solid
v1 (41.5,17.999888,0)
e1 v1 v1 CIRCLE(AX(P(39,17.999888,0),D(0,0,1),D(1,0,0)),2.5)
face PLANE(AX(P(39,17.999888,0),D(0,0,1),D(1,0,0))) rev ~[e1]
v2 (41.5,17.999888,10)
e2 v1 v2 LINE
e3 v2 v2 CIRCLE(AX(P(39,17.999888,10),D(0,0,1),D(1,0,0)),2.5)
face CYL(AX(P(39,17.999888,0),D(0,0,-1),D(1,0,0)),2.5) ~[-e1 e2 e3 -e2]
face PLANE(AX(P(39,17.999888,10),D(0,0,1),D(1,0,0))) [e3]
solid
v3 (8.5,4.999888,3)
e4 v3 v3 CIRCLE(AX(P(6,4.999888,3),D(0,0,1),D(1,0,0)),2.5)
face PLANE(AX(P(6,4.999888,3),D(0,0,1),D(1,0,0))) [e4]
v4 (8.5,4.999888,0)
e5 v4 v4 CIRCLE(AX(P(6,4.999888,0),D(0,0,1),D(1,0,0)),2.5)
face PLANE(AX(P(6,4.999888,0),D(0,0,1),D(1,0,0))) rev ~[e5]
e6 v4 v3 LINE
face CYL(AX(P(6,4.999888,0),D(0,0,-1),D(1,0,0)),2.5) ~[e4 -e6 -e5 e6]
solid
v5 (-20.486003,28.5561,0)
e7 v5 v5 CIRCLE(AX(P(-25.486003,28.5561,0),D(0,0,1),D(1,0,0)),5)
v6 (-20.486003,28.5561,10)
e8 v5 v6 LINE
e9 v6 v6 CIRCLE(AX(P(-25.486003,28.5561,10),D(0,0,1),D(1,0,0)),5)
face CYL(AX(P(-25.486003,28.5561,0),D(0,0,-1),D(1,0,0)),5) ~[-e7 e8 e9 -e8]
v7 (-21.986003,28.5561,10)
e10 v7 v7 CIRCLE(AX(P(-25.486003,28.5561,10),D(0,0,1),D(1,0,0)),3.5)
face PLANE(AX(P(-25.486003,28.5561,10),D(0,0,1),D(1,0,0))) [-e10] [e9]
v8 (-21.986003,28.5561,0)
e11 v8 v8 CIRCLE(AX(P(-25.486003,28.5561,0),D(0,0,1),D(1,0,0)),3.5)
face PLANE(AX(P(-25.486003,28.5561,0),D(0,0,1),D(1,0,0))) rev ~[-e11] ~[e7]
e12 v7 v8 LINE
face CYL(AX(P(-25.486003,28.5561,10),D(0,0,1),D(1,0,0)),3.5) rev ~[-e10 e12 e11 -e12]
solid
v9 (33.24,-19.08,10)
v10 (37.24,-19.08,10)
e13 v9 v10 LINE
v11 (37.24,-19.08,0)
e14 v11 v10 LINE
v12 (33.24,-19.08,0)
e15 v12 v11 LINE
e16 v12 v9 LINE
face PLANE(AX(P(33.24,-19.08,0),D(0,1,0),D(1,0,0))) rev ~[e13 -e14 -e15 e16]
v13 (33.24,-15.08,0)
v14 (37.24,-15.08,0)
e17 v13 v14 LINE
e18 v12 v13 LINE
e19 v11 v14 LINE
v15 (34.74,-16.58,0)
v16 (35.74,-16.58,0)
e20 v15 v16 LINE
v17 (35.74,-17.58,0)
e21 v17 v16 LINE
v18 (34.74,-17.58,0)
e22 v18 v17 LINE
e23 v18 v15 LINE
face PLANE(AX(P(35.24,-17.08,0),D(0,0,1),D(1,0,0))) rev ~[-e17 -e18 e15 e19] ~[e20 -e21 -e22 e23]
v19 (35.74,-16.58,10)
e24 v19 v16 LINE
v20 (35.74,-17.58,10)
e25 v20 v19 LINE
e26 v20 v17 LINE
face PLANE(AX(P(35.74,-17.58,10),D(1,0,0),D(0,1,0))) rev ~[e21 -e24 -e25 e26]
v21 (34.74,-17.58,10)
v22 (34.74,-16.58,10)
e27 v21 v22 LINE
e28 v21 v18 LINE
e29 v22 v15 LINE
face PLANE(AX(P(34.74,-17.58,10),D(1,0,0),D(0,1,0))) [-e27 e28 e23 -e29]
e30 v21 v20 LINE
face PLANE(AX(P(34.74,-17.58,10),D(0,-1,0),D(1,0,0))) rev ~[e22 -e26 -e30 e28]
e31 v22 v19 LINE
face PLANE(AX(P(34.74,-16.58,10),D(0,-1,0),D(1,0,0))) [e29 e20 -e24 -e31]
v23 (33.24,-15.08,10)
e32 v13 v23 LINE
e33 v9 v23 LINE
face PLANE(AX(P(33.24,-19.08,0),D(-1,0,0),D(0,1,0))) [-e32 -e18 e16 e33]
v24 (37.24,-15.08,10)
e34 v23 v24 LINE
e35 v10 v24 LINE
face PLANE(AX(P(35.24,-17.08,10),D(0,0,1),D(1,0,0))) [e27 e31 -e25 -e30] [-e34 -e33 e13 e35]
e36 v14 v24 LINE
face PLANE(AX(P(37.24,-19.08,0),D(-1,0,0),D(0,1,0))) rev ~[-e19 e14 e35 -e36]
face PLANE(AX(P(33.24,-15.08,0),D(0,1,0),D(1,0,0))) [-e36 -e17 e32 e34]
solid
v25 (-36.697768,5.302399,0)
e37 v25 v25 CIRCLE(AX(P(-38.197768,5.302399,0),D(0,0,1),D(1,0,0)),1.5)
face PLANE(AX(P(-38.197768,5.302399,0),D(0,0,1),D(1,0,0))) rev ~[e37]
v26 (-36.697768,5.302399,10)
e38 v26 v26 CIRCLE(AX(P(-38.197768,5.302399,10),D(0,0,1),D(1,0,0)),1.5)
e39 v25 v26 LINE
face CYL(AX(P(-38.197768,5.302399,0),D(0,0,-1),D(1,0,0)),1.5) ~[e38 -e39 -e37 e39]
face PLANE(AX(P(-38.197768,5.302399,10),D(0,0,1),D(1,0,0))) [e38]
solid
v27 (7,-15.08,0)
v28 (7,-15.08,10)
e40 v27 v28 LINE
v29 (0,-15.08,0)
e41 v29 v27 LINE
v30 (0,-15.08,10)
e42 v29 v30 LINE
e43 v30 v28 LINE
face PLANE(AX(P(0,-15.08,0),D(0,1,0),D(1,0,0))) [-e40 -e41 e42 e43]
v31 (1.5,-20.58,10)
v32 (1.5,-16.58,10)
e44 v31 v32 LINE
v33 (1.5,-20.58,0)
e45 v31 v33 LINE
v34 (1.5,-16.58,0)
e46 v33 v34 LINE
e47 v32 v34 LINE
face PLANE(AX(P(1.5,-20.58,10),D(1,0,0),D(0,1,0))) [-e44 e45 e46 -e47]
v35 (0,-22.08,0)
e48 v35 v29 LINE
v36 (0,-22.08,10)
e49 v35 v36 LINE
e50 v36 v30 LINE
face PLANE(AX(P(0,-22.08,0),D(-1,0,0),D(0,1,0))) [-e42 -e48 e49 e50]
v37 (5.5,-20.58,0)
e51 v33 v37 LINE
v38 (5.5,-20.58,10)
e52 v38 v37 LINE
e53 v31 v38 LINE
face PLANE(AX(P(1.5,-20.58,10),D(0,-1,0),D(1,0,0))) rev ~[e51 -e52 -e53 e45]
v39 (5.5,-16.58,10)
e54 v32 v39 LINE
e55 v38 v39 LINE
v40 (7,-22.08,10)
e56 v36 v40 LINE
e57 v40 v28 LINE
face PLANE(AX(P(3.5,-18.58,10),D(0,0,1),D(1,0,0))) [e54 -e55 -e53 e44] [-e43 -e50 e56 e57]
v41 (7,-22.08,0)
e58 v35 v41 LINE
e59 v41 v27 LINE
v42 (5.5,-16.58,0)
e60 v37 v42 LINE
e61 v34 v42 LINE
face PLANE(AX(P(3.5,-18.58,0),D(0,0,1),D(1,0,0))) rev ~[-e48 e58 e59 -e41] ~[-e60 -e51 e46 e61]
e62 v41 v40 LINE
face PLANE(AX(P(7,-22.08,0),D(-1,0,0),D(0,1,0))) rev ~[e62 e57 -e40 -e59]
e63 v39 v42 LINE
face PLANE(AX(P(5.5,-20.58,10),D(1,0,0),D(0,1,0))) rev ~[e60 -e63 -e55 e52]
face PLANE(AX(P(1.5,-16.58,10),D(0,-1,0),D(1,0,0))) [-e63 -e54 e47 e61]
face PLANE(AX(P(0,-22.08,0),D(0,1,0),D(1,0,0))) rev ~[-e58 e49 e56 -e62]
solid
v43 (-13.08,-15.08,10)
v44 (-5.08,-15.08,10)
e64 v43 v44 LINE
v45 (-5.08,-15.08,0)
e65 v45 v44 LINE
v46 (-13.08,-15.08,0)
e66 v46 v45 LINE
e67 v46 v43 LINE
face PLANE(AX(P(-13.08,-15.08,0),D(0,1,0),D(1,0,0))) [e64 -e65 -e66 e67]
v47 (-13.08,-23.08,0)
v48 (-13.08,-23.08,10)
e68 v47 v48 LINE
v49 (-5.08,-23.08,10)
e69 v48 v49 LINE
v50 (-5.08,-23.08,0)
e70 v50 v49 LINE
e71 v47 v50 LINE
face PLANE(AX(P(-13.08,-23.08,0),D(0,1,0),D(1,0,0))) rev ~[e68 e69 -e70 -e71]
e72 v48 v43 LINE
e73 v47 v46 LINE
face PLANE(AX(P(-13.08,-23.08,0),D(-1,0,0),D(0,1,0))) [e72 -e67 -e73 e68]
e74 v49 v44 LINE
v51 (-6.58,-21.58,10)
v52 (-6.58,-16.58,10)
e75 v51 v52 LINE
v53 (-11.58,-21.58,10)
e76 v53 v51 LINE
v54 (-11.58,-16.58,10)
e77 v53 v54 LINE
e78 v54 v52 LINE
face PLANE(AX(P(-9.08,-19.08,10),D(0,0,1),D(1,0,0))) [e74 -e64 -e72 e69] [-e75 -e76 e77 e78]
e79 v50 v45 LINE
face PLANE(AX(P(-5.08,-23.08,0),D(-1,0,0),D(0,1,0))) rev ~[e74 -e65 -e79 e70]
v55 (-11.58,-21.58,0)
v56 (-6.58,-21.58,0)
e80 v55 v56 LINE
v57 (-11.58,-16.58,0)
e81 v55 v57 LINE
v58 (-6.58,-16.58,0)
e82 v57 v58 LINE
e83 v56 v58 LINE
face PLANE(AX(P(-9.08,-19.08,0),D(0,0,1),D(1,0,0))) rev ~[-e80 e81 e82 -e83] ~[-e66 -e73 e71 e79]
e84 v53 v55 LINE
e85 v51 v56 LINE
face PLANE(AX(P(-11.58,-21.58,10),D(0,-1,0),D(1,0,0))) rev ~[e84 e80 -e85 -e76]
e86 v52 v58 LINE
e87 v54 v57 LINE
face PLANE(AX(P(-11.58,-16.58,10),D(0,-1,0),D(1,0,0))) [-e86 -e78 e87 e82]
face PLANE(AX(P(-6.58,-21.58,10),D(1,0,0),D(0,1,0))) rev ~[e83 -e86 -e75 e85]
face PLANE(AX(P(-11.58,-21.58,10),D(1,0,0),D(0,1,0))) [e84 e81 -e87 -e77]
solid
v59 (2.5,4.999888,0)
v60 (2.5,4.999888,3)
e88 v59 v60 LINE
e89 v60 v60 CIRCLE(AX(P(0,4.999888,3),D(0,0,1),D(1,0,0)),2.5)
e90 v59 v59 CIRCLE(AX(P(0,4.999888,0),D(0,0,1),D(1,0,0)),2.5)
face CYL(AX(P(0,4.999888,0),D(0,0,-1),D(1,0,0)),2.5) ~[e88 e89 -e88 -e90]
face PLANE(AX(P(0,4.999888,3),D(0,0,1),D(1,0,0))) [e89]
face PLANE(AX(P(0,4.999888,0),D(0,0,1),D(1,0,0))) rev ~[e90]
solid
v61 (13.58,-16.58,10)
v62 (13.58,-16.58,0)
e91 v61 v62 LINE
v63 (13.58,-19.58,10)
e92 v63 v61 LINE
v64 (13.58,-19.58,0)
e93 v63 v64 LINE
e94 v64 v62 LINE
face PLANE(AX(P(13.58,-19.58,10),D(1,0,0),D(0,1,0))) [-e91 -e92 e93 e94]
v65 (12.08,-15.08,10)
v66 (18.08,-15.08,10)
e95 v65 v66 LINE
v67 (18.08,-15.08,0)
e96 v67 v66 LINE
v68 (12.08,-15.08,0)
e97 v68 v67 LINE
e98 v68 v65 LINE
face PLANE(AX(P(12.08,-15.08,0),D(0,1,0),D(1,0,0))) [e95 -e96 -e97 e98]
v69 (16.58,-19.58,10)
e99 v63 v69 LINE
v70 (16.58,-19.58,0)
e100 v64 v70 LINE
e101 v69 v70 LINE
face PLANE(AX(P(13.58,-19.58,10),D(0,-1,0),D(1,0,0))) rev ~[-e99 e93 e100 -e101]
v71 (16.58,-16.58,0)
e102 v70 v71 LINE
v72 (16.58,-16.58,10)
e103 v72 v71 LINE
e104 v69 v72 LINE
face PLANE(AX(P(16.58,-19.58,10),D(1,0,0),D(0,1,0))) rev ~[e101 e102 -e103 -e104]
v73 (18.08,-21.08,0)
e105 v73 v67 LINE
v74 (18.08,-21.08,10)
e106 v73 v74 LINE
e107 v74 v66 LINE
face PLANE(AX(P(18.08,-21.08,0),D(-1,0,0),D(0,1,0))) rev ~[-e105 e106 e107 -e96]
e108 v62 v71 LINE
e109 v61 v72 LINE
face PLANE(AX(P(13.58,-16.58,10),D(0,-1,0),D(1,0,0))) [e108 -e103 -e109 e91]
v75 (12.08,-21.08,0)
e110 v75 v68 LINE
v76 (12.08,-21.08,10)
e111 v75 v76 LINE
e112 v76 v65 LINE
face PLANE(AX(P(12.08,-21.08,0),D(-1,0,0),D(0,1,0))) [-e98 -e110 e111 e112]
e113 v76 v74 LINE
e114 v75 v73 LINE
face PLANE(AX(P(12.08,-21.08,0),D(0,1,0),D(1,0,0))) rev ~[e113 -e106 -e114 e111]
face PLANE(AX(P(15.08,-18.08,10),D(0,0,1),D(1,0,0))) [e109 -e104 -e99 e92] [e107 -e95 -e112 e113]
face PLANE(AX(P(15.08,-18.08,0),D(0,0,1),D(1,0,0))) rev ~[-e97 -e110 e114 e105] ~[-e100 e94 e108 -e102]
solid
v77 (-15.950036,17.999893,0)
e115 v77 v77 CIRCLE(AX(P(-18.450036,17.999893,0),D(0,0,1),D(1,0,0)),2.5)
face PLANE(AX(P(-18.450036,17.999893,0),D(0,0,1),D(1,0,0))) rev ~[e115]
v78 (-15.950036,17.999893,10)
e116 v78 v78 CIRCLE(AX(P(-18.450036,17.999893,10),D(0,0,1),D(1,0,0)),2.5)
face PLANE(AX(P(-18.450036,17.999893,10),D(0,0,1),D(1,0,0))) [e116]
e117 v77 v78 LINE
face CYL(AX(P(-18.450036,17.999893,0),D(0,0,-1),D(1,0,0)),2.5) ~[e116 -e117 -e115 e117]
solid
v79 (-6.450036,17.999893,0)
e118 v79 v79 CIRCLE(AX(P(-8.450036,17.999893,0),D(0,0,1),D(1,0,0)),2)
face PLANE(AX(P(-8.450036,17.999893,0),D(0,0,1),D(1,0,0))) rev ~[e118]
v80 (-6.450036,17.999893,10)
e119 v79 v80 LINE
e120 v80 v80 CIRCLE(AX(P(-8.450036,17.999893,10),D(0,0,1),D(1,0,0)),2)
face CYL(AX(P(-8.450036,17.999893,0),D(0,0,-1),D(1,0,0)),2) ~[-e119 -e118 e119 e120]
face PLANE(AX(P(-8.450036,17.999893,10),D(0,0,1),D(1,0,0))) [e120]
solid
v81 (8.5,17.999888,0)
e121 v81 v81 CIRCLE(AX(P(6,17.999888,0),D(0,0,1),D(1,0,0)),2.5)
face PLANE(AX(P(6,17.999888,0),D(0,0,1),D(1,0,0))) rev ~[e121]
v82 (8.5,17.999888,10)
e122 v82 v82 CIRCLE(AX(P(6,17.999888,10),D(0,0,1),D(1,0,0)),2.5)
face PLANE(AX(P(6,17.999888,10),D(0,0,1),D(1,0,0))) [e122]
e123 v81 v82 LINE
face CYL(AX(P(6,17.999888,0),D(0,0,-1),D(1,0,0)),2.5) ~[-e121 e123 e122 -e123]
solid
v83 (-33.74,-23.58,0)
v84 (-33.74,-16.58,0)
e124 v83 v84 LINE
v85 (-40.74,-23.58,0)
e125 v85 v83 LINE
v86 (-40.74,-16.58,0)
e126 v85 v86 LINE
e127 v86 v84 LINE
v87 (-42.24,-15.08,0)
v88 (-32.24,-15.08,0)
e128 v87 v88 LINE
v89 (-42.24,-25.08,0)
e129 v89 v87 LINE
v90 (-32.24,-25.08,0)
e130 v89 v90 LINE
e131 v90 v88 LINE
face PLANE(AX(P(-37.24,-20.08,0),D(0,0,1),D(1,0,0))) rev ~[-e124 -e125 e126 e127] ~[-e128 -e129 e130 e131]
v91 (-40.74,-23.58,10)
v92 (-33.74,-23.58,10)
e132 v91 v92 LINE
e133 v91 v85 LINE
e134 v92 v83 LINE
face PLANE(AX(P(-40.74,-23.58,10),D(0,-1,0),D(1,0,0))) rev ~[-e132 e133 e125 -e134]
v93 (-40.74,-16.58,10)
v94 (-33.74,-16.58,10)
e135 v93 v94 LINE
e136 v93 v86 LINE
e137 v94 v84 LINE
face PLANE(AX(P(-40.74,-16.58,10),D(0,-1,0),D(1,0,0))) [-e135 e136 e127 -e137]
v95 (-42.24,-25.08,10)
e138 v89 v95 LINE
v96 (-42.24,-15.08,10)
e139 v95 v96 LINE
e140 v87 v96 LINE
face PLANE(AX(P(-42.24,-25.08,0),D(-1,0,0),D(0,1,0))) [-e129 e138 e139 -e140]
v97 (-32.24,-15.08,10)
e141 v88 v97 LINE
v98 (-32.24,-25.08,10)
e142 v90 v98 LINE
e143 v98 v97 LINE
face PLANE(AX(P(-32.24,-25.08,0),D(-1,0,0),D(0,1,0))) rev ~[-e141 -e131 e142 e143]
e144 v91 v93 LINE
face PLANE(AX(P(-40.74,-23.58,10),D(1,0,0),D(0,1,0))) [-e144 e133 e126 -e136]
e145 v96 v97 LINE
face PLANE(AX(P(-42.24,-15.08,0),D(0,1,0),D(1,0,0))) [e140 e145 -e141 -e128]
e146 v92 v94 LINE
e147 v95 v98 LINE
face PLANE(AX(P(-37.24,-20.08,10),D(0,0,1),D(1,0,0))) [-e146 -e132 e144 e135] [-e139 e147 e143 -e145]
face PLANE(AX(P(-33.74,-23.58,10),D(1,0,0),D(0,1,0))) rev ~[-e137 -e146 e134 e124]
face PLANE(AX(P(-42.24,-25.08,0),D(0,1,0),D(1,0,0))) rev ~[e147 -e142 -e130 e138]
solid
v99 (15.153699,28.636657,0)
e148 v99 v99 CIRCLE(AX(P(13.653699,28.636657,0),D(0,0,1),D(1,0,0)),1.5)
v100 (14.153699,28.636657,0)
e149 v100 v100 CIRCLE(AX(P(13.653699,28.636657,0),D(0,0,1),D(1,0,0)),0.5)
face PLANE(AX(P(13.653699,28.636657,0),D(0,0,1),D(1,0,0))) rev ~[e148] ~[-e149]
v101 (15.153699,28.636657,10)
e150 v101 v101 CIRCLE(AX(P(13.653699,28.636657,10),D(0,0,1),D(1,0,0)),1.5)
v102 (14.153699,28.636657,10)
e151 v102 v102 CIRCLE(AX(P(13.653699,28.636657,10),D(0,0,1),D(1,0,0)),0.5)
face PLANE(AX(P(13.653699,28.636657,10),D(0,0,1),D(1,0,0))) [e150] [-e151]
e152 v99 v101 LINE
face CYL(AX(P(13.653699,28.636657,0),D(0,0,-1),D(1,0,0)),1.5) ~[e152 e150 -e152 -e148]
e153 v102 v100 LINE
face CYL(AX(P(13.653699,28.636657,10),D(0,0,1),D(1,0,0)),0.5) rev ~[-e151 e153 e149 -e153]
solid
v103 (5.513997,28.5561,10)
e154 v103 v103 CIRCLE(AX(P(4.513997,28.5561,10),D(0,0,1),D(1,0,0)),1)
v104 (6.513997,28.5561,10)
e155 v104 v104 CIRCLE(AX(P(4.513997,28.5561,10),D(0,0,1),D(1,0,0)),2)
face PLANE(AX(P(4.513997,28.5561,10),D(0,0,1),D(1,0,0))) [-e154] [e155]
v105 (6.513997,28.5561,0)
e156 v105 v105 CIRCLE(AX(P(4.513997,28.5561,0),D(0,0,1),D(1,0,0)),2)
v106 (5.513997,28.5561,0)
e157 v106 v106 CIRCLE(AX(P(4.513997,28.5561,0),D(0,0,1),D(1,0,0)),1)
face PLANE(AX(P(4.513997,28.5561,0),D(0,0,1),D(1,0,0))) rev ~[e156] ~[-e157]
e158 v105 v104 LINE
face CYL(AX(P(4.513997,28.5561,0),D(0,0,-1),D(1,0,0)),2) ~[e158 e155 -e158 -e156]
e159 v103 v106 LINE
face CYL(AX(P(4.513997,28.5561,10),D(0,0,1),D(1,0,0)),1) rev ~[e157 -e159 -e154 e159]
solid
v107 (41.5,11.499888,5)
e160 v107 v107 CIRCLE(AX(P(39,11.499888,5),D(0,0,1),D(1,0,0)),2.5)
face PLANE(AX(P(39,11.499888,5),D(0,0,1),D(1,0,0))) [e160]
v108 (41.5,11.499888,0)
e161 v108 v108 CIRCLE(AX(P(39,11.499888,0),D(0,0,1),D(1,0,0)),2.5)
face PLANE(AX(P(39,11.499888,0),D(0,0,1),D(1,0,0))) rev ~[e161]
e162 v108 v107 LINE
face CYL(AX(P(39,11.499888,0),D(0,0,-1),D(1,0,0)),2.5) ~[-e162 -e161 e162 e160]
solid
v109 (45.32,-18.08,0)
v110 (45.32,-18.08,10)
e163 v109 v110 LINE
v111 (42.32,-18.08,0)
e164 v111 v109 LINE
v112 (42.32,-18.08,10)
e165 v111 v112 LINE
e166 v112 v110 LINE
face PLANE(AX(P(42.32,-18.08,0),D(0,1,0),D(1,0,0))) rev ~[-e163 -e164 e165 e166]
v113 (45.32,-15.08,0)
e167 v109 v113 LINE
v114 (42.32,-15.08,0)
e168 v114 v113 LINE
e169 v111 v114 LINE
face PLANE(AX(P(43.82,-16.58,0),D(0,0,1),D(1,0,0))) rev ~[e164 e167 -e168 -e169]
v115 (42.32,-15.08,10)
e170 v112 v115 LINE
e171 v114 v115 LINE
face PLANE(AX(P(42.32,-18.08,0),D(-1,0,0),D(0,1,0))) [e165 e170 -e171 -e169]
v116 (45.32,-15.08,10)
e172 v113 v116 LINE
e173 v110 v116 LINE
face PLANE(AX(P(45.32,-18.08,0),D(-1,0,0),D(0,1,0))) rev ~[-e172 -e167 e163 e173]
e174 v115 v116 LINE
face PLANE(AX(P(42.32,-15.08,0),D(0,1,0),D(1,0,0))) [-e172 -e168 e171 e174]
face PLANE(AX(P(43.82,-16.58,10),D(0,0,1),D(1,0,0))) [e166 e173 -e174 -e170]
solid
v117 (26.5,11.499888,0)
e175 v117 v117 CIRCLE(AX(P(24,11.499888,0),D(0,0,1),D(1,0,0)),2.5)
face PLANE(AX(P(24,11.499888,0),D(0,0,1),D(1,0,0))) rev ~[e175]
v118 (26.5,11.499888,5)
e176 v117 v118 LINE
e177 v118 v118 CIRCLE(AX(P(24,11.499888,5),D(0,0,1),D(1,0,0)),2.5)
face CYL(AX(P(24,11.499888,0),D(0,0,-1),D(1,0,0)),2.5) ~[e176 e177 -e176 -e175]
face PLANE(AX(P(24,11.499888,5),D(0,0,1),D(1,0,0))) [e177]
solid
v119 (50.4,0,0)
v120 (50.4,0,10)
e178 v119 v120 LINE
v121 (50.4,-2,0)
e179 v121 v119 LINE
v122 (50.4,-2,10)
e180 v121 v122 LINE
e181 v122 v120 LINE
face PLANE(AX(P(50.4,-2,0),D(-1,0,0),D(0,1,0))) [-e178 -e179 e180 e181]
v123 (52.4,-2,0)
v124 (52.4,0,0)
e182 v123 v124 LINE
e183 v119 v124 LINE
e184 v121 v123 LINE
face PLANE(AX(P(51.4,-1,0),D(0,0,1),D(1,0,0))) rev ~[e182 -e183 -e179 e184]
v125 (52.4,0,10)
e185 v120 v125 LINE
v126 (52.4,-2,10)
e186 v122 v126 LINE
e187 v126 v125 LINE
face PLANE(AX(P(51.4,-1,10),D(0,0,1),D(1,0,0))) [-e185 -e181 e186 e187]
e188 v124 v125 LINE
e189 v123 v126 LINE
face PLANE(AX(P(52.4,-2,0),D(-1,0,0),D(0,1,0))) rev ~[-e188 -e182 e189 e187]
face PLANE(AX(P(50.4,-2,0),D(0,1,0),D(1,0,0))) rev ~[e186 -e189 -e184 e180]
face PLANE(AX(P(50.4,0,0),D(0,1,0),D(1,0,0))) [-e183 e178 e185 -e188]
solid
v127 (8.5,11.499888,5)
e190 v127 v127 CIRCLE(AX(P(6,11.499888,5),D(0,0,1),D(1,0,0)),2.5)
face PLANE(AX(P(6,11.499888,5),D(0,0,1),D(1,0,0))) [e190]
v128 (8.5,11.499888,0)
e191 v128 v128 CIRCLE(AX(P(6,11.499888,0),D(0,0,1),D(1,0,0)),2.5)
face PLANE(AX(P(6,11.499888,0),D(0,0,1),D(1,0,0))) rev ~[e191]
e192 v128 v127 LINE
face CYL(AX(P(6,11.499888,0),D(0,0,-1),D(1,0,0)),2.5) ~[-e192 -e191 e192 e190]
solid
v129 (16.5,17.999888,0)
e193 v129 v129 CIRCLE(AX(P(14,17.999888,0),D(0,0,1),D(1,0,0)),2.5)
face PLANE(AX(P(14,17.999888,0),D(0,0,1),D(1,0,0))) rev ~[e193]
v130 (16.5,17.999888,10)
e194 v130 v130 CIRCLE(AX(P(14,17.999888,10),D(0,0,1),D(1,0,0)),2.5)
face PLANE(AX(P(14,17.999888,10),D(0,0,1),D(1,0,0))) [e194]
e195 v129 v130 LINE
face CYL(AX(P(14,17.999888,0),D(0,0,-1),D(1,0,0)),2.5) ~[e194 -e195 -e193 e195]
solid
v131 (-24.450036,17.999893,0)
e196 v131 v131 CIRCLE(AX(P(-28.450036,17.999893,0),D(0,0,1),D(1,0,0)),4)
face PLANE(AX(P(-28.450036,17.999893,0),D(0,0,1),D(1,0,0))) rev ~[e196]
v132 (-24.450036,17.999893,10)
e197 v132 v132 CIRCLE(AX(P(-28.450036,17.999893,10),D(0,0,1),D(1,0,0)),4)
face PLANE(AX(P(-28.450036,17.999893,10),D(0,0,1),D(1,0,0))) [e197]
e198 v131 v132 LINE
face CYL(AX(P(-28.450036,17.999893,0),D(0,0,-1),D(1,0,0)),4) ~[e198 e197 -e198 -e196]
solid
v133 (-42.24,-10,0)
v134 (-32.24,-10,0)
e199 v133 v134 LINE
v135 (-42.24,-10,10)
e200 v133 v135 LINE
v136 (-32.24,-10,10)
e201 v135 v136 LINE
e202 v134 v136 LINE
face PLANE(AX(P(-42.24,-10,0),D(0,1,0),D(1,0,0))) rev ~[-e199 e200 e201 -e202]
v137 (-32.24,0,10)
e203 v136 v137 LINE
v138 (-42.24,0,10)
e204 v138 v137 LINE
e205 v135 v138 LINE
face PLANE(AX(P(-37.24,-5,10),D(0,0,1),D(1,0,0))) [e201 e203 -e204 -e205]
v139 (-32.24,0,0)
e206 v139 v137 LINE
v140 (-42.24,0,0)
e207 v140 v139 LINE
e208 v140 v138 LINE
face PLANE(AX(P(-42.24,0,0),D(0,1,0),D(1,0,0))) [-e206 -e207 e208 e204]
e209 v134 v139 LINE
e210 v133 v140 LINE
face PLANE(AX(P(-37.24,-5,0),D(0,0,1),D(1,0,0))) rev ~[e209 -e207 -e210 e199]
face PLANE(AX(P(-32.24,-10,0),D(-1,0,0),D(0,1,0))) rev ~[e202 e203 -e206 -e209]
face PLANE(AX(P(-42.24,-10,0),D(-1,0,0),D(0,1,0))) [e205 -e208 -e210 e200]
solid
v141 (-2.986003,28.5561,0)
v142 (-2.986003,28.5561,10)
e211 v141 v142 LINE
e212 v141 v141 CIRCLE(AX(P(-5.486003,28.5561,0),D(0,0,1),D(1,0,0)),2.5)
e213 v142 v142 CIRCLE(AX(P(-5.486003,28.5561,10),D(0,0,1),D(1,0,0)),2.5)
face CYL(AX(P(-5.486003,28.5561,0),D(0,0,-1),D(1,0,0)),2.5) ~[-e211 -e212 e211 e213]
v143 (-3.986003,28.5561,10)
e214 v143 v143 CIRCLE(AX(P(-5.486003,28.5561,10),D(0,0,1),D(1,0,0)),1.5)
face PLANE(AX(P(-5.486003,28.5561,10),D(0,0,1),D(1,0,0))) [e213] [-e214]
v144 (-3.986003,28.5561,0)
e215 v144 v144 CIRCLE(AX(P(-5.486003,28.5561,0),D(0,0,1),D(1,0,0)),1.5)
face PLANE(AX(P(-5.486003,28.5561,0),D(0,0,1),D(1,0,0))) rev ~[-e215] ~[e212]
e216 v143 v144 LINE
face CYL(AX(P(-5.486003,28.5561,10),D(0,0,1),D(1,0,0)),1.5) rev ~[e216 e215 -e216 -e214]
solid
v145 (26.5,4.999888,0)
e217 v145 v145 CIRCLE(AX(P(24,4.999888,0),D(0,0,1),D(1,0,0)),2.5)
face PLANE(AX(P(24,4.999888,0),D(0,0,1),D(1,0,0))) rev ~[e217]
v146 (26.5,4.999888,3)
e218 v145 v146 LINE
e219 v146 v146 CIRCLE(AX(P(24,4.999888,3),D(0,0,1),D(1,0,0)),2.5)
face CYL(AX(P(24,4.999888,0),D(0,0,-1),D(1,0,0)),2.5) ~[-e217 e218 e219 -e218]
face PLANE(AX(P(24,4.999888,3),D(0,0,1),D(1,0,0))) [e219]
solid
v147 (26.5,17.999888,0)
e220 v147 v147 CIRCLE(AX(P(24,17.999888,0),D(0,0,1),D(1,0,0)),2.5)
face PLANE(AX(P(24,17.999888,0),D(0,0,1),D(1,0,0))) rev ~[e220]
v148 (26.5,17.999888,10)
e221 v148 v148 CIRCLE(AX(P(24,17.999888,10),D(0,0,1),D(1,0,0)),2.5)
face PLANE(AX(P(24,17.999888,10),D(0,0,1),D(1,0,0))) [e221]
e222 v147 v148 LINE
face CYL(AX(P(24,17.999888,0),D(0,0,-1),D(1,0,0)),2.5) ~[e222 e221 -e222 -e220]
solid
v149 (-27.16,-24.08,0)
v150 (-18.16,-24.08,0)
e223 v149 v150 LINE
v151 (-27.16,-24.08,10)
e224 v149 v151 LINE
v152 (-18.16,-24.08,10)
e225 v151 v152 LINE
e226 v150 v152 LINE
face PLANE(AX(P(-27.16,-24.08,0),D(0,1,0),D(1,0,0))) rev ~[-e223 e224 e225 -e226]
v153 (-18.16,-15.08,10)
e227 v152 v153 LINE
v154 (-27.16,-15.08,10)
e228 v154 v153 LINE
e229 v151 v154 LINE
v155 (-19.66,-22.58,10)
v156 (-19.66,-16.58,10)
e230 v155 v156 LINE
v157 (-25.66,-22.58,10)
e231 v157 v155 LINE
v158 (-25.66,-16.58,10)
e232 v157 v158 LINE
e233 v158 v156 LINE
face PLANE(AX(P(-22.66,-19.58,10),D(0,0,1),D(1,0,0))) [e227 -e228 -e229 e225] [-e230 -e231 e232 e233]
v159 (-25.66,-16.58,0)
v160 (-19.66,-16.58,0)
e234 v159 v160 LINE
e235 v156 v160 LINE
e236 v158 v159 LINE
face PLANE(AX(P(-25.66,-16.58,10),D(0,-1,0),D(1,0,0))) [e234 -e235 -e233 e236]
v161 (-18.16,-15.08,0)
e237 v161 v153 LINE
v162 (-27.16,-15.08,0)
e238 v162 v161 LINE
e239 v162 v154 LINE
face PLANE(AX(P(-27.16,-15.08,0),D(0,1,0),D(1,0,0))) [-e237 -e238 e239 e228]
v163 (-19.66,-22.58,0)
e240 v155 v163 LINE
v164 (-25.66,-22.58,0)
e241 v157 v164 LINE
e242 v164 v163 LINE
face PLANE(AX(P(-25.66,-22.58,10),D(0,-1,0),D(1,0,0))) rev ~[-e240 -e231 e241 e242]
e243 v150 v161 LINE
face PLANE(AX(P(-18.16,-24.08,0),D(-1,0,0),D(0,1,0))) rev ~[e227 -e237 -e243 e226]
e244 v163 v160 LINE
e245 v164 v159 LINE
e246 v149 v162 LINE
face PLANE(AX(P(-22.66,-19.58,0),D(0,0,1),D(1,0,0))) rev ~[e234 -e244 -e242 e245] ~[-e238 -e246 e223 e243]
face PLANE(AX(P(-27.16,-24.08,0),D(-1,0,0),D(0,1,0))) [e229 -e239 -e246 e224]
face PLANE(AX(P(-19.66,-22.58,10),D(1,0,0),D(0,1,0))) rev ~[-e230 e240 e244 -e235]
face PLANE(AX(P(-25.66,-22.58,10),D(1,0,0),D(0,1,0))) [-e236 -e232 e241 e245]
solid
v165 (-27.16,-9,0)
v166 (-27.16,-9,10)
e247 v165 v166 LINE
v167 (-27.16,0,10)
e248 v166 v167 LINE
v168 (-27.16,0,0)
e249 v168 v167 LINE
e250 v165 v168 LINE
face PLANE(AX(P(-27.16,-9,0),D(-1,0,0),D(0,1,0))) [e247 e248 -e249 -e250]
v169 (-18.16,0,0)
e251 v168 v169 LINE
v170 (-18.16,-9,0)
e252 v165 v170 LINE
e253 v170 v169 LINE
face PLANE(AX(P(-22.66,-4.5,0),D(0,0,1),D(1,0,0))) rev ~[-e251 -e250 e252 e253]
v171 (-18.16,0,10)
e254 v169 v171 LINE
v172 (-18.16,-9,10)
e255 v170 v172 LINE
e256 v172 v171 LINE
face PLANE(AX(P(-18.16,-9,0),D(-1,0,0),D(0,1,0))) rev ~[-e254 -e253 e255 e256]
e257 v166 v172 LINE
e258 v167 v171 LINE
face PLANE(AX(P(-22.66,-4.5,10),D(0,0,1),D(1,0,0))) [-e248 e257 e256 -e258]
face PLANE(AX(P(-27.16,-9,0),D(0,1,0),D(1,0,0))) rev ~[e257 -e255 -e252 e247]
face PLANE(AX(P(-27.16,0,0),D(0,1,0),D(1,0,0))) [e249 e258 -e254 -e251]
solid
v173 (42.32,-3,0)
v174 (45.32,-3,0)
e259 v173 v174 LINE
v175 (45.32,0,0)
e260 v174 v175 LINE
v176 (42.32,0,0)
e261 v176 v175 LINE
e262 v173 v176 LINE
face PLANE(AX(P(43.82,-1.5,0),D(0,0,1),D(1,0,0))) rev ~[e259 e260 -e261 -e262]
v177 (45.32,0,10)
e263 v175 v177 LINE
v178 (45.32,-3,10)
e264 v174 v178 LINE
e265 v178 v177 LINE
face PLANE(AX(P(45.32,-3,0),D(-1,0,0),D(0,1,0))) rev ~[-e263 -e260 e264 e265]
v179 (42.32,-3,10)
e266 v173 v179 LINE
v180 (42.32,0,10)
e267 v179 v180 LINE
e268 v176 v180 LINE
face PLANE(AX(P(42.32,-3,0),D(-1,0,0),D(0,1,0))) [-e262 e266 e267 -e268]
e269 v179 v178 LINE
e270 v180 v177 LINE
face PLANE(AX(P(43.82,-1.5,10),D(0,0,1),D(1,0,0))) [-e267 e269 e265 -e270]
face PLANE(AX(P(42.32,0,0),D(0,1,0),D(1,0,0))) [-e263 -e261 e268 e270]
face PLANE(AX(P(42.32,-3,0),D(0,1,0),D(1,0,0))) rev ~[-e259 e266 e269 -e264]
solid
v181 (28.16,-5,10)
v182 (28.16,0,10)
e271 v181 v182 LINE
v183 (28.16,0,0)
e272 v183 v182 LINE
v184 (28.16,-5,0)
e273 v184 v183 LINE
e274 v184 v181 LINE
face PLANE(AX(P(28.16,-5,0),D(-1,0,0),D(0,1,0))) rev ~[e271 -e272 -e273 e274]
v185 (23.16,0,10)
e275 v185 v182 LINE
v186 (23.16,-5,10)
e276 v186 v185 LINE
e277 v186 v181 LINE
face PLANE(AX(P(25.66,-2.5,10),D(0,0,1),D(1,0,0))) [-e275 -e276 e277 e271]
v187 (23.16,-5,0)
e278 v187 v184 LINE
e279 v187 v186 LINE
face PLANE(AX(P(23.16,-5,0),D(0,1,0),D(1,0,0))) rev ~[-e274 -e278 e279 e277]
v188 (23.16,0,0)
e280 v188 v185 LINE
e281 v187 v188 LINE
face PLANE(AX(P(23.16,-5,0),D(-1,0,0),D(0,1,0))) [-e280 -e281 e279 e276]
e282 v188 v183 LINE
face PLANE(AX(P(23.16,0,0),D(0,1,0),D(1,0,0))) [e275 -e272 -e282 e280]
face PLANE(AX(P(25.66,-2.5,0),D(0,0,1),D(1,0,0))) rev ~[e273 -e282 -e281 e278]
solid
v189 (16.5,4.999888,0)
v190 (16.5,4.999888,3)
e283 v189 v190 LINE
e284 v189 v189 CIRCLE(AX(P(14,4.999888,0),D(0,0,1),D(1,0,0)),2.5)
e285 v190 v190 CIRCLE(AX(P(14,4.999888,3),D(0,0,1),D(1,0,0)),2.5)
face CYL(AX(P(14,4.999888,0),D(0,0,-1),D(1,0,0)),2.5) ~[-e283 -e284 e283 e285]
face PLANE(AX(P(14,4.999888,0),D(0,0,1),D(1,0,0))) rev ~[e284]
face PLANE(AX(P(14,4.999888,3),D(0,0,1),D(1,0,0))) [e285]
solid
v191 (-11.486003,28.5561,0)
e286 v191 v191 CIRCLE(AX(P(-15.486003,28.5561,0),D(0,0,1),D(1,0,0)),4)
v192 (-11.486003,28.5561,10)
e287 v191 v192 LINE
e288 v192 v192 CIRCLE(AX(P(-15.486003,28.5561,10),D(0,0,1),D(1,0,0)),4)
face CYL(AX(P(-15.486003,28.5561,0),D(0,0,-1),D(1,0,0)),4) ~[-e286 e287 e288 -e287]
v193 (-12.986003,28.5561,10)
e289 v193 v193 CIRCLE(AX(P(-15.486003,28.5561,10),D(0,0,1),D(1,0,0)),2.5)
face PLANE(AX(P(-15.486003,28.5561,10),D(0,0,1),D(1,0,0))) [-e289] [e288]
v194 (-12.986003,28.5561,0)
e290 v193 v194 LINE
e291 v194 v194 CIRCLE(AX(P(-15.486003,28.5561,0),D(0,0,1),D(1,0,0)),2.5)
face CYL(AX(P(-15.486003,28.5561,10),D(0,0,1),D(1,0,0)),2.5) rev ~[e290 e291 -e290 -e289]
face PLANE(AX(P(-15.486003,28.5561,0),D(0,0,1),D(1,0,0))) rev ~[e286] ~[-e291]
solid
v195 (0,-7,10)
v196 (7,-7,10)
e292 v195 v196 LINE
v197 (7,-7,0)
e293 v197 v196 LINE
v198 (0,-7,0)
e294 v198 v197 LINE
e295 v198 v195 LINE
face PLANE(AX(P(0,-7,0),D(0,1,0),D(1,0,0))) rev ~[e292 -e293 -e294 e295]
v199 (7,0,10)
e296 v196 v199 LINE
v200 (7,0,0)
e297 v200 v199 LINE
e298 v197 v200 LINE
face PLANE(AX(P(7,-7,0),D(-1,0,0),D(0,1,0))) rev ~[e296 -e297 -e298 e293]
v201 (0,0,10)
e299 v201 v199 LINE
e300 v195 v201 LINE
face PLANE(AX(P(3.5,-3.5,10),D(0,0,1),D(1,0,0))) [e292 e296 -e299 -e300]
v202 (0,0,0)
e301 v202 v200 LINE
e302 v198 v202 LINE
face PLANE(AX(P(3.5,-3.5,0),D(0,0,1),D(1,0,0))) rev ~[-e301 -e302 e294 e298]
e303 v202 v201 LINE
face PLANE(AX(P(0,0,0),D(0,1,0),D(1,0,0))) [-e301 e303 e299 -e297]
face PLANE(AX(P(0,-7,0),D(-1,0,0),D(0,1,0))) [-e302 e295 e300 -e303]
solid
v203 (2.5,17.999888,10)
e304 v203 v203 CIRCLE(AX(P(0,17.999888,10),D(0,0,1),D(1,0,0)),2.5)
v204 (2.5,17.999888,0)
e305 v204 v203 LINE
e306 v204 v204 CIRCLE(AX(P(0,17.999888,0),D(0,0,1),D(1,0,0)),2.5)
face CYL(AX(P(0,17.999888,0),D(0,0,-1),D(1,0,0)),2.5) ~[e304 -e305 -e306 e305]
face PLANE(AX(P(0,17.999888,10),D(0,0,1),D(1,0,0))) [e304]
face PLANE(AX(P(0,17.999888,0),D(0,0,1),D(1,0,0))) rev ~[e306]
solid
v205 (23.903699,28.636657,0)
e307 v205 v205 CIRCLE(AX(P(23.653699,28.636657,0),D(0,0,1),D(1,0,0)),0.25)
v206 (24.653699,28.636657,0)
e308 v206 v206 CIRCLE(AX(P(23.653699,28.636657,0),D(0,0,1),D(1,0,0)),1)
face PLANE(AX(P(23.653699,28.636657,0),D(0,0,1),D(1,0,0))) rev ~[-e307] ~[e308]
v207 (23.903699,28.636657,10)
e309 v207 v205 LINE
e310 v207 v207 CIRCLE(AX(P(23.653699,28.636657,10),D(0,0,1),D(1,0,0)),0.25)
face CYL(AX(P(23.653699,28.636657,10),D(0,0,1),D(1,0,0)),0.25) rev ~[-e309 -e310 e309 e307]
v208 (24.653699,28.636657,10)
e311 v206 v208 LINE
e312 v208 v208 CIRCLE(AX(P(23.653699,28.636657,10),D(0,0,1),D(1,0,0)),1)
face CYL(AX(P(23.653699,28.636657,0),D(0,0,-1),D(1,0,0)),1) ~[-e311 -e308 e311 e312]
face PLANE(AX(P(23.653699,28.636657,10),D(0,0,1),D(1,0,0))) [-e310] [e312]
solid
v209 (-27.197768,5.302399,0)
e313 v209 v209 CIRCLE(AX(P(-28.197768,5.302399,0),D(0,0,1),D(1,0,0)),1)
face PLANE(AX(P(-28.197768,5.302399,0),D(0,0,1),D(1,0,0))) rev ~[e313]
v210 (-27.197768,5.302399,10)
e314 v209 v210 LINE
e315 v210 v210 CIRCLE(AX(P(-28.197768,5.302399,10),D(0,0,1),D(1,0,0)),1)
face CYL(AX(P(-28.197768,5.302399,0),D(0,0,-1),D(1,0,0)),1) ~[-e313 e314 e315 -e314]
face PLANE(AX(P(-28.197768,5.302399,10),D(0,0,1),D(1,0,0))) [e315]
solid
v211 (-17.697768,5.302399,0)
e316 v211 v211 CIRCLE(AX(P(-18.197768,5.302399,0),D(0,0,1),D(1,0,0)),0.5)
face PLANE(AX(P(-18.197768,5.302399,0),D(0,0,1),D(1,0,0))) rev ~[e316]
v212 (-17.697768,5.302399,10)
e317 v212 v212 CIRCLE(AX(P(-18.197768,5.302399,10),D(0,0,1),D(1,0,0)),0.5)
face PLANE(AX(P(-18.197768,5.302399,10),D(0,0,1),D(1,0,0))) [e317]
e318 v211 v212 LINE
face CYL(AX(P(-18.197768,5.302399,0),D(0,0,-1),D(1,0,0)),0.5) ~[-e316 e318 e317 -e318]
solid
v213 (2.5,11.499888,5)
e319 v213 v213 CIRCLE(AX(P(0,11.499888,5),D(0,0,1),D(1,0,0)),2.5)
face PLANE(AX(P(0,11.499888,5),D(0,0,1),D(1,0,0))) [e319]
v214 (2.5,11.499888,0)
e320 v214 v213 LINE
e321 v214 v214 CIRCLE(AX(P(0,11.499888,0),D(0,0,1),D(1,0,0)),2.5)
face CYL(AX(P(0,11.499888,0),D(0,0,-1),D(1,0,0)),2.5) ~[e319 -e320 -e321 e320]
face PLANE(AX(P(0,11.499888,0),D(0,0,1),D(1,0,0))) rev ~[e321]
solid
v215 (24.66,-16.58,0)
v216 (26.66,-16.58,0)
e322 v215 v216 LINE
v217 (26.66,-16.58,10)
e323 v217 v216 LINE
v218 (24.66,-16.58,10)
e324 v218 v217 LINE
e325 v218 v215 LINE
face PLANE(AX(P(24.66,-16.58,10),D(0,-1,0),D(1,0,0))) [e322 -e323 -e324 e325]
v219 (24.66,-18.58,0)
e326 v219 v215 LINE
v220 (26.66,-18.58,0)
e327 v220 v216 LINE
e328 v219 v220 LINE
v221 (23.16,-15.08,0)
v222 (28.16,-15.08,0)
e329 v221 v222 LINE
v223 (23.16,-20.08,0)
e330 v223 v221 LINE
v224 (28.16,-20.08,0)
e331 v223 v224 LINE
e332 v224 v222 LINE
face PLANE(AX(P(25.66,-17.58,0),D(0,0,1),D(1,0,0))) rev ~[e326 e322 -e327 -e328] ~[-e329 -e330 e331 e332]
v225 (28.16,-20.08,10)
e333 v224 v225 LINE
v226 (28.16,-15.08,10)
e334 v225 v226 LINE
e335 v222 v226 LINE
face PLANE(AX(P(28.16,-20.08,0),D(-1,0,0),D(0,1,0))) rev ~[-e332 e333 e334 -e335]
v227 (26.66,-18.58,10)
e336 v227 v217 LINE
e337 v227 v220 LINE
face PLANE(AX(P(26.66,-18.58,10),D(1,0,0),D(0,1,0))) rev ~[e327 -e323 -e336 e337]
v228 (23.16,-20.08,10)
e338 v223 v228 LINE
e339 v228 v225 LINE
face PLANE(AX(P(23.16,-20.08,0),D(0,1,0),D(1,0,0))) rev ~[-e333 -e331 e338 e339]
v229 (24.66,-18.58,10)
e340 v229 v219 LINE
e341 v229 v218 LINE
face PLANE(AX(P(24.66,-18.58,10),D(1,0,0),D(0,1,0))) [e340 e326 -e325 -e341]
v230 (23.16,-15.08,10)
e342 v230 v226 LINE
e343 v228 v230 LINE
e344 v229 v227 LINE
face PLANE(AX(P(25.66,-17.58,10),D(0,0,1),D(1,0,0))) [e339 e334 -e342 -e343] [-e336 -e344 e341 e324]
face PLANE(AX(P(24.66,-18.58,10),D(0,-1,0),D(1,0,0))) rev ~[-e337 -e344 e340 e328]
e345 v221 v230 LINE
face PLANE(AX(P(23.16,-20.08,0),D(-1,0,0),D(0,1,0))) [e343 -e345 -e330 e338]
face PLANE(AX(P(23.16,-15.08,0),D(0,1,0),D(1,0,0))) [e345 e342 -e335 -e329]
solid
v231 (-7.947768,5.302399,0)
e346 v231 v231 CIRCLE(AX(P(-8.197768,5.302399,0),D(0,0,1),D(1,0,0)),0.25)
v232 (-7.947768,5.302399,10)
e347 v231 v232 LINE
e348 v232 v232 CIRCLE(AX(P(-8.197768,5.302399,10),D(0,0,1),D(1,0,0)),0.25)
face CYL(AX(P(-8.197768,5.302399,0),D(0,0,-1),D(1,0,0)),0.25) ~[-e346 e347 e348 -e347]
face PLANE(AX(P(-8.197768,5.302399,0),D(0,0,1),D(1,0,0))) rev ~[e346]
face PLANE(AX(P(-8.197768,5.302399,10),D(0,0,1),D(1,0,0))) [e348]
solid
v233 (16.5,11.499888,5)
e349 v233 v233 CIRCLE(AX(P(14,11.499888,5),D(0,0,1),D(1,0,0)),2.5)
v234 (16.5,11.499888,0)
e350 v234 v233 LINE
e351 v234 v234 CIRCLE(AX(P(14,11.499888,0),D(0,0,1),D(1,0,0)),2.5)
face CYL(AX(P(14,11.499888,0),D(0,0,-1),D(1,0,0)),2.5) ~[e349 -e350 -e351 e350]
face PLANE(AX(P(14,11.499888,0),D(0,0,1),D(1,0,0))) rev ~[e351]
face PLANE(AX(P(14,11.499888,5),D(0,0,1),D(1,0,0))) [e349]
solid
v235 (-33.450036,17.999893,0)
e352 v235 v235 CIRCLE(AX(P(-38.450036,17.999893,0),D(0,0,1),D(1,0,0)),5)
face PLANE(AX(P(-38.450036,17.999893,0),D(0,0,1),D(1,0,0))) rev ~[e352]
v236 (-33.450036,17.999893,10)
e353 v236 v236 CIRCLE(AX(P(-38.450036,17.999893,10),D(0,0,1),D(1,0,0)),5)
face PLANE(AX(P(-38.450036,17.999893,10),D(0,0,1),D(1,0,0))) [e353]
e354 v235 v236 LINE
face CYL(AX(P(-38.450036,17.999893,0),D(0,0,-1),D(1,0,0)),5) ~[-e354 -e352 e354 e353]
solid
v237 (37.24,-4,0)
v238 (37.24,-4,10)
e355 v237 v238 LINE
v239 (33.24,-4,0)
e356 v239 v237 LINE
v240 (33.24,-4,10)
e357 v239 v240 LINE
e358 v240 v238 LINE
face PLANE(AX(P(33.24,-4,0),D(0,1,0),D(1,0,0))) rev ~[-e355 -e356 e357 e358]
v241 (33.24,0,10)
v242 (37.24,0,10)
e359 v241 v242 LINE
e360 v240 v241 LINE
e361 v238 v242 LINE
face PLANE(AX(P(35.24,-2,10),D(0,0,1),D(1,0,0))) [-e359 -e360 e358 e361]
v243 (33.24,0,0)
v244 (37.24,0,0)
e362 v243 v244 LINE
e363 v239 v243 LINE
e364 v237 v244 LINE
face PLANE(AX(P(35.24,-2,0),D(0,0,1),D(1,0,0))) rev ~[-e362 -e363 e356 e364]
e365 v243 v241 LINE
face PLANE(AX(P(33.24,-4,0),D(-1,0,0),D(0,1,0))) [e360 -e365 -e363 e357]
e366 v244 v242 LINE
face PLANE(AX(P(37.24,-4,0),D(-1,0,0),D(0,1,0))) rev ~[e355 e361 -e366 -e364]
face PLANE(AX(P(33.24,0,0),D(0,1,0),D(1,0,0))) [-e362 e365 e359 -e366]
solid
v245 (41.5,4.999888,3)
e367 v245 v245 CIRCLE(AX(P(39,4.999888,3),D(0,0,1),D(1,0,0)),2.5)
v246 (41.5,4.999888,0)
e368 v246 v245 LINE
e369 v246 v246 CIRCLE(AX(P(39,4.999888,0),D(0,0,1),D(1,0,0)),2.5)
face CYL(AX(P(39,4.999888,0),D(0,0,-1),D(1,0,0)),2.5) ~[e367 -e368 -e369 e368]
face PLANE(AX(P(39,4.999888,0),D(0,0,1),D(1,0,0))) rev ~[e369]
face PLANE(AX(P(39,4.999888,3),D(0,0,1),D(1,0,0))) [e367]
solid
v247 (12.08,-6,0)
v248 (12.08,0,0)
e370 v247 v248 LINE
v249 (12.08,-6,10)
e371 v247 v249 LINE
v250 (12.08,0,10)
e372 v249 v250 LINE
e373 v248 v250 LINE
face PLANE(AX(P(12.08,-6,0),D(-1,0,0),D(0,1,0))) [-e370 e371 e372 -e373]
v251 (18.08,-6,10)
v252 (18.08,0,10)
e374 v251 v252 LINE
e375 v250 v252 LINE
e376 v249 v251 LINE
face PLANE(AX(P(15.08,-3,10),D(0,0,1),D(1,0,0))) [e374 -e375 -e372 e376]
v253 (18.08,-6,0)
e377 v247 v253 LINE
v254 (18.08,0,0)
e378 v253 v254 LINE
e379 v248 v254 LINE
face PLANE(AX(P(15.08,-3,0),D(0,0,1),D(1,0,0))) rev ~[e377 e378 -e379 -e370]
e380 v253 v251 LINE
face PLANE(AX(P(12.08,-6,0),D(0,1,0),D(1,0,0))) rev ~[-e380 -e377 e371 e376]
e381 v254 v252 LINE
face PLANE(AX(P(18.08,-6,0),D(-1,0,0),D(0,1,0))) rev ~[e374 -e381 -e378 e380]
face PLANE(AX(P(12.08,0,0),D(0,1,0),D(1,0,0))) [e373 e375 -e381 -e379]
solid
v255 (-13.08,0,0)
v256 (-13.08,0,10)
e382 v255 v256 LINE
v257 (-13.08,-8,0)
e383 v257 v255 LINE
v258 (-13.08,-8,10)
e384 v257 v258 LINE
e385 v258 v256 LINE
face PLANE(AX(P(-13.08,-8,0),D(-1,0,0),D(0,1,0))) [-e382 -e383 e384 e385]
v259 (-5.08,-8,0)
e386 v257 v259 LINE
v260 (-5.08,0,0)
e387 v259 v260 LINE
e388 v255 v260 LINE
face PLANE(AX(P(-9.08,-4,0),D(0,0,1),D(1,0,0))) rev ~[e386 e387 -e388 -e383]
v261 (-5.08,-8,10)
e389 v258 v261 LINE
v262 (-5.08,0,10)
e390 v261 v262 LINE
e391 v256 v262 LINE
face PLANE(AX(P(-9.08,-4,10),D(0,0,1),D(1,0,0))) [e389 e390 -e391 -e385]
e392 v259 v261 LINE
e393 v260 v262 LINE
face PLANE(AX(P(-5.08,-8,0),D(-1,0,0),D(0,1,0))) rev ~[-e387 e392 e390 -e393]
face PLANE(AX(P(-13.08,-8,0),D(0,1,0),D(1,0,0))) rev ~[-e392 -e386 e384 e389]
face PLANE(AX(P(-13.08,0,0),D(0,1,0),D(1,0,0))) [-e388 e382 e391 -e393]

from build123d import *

# Parameters (mm, degrees)
F0_R      = 5
F1_DEPTH  = 10
F0_R_2    = 4
F0_R_3    = 2.5
F0_R_4    = 2
F0_R_5    = 1.5
F0_R_6    = 1
F0_R_7    = 0.5
F0_R_8    = 0.25
F2_R      = 2.5
F3_DEPTH  = 10
F4_R      = 2.5
F5_DEPTH  = 5
F6_R      = 2.5
F7_DEPTH  = 3
F8_W      = 10
F8_H      = 10
F9_DEPTH  = 10
F8_W_2    = 9
F8_H_2    = 9
F8_W_3    = 8
F8_H_3    = 8
F8_W_4    = 7
F8_H_4    = 7
F8_W_5    = 6
F8_H_5    = 6
F8_W_6    = 5
F8_H_6    = 5
F8_W_7    = 4
F8_H_7    = 4
F8_W_8    = 3
F8_H_8    = 3
F8_W_9    = 2
F8_H_9    = 2
F10_W     = 9
F10_H     = 9
F11_DEPTH = 10
F10_W_2   = 10
F10_H_2   = 10
F10_W_3   = 4
F10_H_3   = 4
F10_W_4   = 6
F10_H_4   = 6
F10_W_5   = 7
F10_H_5   = 7
F10_W_6   = 8
F10_H_6   = 8
F10_W_7   = 5
F10_H_7   = 5
F10_W_8   = 3
F10_H_8   = 3
F12_W     = 6
F12_H     = 6
F12_W_2   = 4
F12_H_2   = 4
F12_W_3   = 3
F12_H_3   = 3
F12_W_4   = 2
F12_H_4   = 2
F12_W_5   = 1
F12_H_5   = 1
F12_W_6   = 7
F12_H_6   = 7
F12_W_7   = 5
F12_H_7   = 5
F13_DEPTH = 10
F14_R     = 5
F15_DEPTH = 10
F14_R_2   = 4
F14_R_3   = 2.5
F14_R_4   = 2
F14_R_5   = 1.5
F14_R_6   = 1
F16_R     = 1.5
F16_R_2   = 1
F16_R_3   = 0.5
F16_R_4   = 0.25
F16_R_5   = 2.5
F16_R_6   = 3.5
F17_DEPTH = 10


with BuildPart() as f1:
    # F0 (on Top) → F1 (new body)
    with BuildSketch(Plane.XY):
        with Locations((-38.4500361979, 17.9998930544)):
            Circle(F0_R)
    extrude(amount=F1_DEPTH)


with BuildPart() as f1b:
    # F0 (on Top) → F1, piece 2 (new body)
    with BuildSketch(Plane.XY):
        with Locations((-28.4500361979, 17.9998930544)):
            Circle(F0_R_2)
    extrude(amount=F1_DEPTH)


with BuildPart() as f1c:
    # F0 (on Top) → F1, piece 3 (new body)
    with BuildSketch(Plane.XY):
        with Locations((-18.4500361979, 17.9998930544)):
            Circle(F0_R_3)
    extrude(amount=F1_DEPTH)


with BuildPart() as f1d:
    # F0 (on Top) → F1, piece 4 (new body)
    with BuildSketch(Plane.XY):
        with Locations((-8.4500361979, 17.9998930544)):
            Circle(F0_R_4)
    extrude(amount=F1_DEPTH)


with BuildPart() as f1e:
    # F0 (on Top) → F1, piece 5 (new body)
    with BuildSketch(Plane.XY):
        with Locations((-38.1977682621, 5.3023987784)):
            Circle(F0_R_5)
    extrude(amount=F1_DEPTH)


with BuildPart() as f1f:
    # F0 (on Top) → F1, piece 6 (new body)
    with BuildSketch(Plane.XY):
        with Locations((-28.1977682621, 5.3023987784)):
            Circle(F0_R_6)
    extrude(amount=F1_DEPTH)


with BuildPart() as f1g:
    # F0 (on Top) → F1, piece 7 (new body)
    with BuildSketch(Plane.XY):
        with Locations((-18.1977682621, 5.3023987784)):
            Circle(F0_R_7)
    extrude(amount=F1_DEPTH)


with BuildPart() as f1h:
    # F0 (on Top) → F1, piece 8 (new body)
    with BuildSketch(Plane.XY):
        with Locations((-8.1977682621, 5.3023987784)):
            Circle(F0_R_8)
    extrude(amount=F1_DEPTH)


with BuildPart() as f3:
    # F2 (on Top) → F3 (new body)
    with BuildSketch(Plane.XY):
        with Locations((0, 17.9998878)):
            Circle(F2_R)
    extrude(amount=F3_DEPTH)


with BuildPart() as f3b:
    # F2 (on Top) → F3, piece 2 (new body)
    with BuildSketch(Plane.XY):
        with Locations((6, 17.9998878)):
            Circle(F2_R)
    extrude(amount=F3_DEPTH)


with BuildPart() as f3c:
    # F2 (on Top) → F3, piece 3 (new body)
    with BuildSketch(Plane.XY):
        with Locations((14, 17.9998878)):
            Circle(F2_R)
    extrude(amount=F3_DEPTH)


with BuildPart() as f3d:
    # F2 (on Top) → F3, piece 4 (new body)
    with BuildSketch(Plane.XY):
        with Locations((24, 17.9998878)):
            Circle(F2_R)
    extrude(amount=F3_DEPTH)


with BuildPart() as f3e:
    # F2 (on Top) → F3, piece 5 (new body)
    with BuildSketch(Plane.XY):
        with Locations((39, 17.9998878)):
            Circle(F2_R)
    extrude(amount=F3_DEPTH)


with BuildPart() as f5:
    # F4 (on Top) → F5 (new body)
    with BuildSketch(Plane.XY):
        with Locations((6, 11.4998878)):
            Circle(F4_R)
    extrude(amount=F5_DEPTH)


with BuildPart() as f5b:
    # F4 (on Top) → F5, piece 2 (new body)
    with BuildSketch(Plane.XY):
        with Locations((0, 11.4998878)):
            Circle(F4_R)
    extrude(amount=F5_DEPTH)


with BuildPart() as f5c:
    # F4 (on Top) → F5, piece 3 (new body)
    with BuildSketch(Plane.XY):
        with Locations((39, 11.4998878)):
            Circle(F4_R)
    extrude(amount=F5_DEPTH)


with BuildPart() as f5d:
    # F4 (on Top) → F5, piece 4 (new body)
    with BuildSketch(Plane.XY):
        with Locations((24, 11.4998878)):
            Circle(F4_R)
    extrude(amount=F5_DEPTH)


with BuildPart() as f5e:
    # F4 (on Top) → F5, piece 5 (new body)
    with BuildSketch(Plane.XY):
        with Locations((14, 11.4998878)):
            Circle(F4_R)
    extrude(amount=F5_DEPTH)


with BuildPart() as f7:
    # F6 (on Top) → F7 (new body)
    with BuildSketch(Plane.XY):
        with Locations((6, 4.9998878)):
            Circle(F6_R)
    extrude(amount=F7_DEPTH)


with BuildPart() as f7b:
    # F6 (on Top) → F7, piece 2 (new body)
    with BuildSketch(Plane.XY):
        with Locations((0, 4.9998878)):
            Circle(F6_R)
    extrude(amount=F7_DEPTH)


with BuildPart() as f7c:
    # F6 (on Top) → F7, piece 3 (new body)
    with BuildSketch(Plane.XY):
        with Locations((39, 4.9998878)):
            Circle(F6_R)
    extrude(amount=F7_DEPTH)


with BuildPart() as f7d:
    # F6 (on Top) → F7, piece 4 (new body)
    with BuildSketch(Plane.XY):
        with Locations((24, 4.9998878)):
            Circle(F6_R)
    extrude(amount=F7_DEPTH)


with BuildPart() as f7e:
    # F6 (on Top) → F7, piece 5 (new body)
    with BuildSketch(Plane.XY):
        with Locations((14, 4.9998878)):
            Circle(F6_R)
    extrude(amount=F7_DEPTH)


with BuildPart() as f9:
    # F8 (on Top) → F9 (new body)
    with BuildSketch(Plane.XY):
        with Locations((-37.24, -5)):
            Rectangle(F8_W, F8_H)
    extrude(amount=F9_DEPTH)


with BuildPart() as f9b:
    # F8 (on Top) → F9, piece 2 (new body)
    with BuildSketch(Plane.XY):
        with Locations((-22.66, -4.5)):
            Rectangle(F8_W_2, F8_H_2)
    extrude(amount=F9_DEPTH)


with BuildPart() as f9c:
    # F8 (on Top) → F9, piece 3 (new body)
    with BuildSketch(Plane.XY):
        with Locations((-9.08, -4)):
            Rectangle(F8_W_3, F8_H_3)
    extrude(amount=F9_DEPTH)


with BuildPart() as f9d:
    # F8 (on Top) → F9, piece 4 (new body)
    with BuildSketch(Plane.XY):
        with Locations((3.5, -3.5)):
            Rectangle(F8_W_4, F8_H_4)
    extrude(amount=F9_DEPTH)


with BuildPart() as f9e:
    # F8 (on Top) → F9, piece 5 (new body)
    with BuildSketch(Plane.XY):
        with Locations((15.08, -3)):
            Rectangle(F8_W_5, F8_H_5)
    extrude(amount=F9_DEPTH)


with BuildPart() as f9f:
    # F8 (on Top) → F9, piece 6 (new body)
    with BuildSketch(Plane.XY):
        with Locations((25.66, -2.5)):
            Rectangle(F8_W_6, F8_H_6)
    extrude(amount=F9_DEPTH)


with BuildPart() as f9g:
    # F8 (on Top) → F9, piece 7 (new body)
    with BuildSketch(Plane.XY):
        with Locations((35.24, -2)):
            Rectangle(F8_W_7, F8_H_7)
    extrude(amount=F9_DEPTH)


with BuildPart() as f9h:
    # F8 (on Top) → F9, piece 8 (new body)
    with BuildSketch(Plane.XY):
        with Locations((43.82, -1.5)):
            Rectangle(F8_W_8, F8_H_8)
    extrude(amount=F9_DEPTH)


with BuildPart() as f9i:
    # F8 (on Top) → F9, piece 9 (new body)
    with BuildSketch(Plane.XY):
        with Locations((51.4, -1)):
            Rectangle(F8_W_9, F8_H_9)
    extrude(amount=F9_DEPTH)


with BuildPart() as f11:
    # F10 (on Top) → F11 (new body)
    with BuildSketch(Plane.XY):
        with Locations((-22.66, -19.58)):
            Rectangle(F10_W, F10_H)
    extrude(amount=F11_DEPTH)


with BuildPart() as f11b:
    # F10 (on Top) → F11, piece 2 (new body)
    with BuildSketch(Plane.XY):
        with Locations((-37.24, -20.08)):
            Rectangle(F10_W_2, F10_H_2)
    extrude(amount=F11_DEPTH)


with BuildPart() as f11c:
    # F10 (on Top) → F11, piece 3 (new body)
    with BuildSketch(Plane.XY):
        with Locations((35.24, -17.08)):
            Rectangle(F10_W_3, F10_H_3)
    extrude(amount=F11_DEPTH)


with BuildPart() as f11d:
    # F10 (on Top) → F11, piece 4 (new body)
    with BuildSketch(Plane.XY):
        with Locations((15.08, -18.08)):
            Rectangle(F10_W_4, F10_H_4)
    extrude(amount=F11_DEPTH)


with BuildPart() as f11e:
    # F10 (on Top) → F11, piece 5 (new body)
    with BuildSketch(Plane.XY):
        with Locations((3.5, -18.58)):
            Rectangle(F10_W_5, F10_H_5)
    extrude(amount=F11_DEPTH)


with BuildPart() as f11f:
    # F10 (on Top) → F11, piece 6 (new body)
    with BuildSketch(Plane.XY):
        with Locations((-9.08, -19.08)):
            Rectangle(F10_W_6, F10_H_6)
    extrude(amount=F11_DEPTH)


with BuildPart() as f11g:
    # F10 (on Top) → F11, piece 7 (new body)
    with BuildSketch(Plane.XY):
        with Locations((25.66, -17.58)):
            Rectangle(F10_W_7, F10_H_7)
    extrude(amount=F11_DEPTH)


with BuildPart() as f11h:
    # F10 (on Top) → F11, piece 8 (new body)
    with BuildSketch(Plane.XY):
        with Locations((43.82, -16.58)):
            Rectangle(F10_W_8, F10_H_8)
    extrude(amount=F11_DEPTH)


with BuildPart() as f13_tool:
    # F12 (on face) → F13 (new body)
    with BuildSketch(Plane.XY.offset(10)):
        with Locations((-22.66, -19.58)):
            Rectangle(F12_W, F12_H)
        with Locations((3.5, -18.58)):
            Rectangle(F12_W_2, F12_H_2)
        with Locations((15.08, -18.08)):
            Rectangle(F12_W_3, F12_H_3)
        with Locations((25.66, -17.58)):
            Rectangle(F12_W_4, F12_H_4)
        with Locations((35.24, -17.08)):
            Rectangle(F12_W_5, F12_H_5)
        with Locations((-37.24, -20.08)):
            Rectangle(F12_W_6, F12_H_6)
        with Locations((-9.08, -19.08)):
            Rectangle(F12_W_7, F12_H_7)
    extrude(amount=-F13_DEPTH)


with BuildPart() as f11_1:
    add(f11.part)

    # F13: cut by f13_tool
    add(f13_tool.part, mode=Mode.SUBTRACT)


with BuildPart() as f11b_1:
    add(f11b.part)

    # F13: cut by f13_tool
    add(f13_tool.part, mode=Mode.SUBTRACT)


with BuildPart() as f11c_1:
    add(f11c.part)

    # F13: cut by f13_tool
    add(f13_tool.part, mode=Mode.SUBTRACT)


with BuildPart() as f11d_1:
    add(f11d.part)

    # F13: cut by f13_tool
    add(f13_tool.part, mode=Mode.SUBTRACT)


with BuildPart() as f11e_1:
    add(f11e.part)

    # F13: cut by f13_tool
    add(f13_tool.part, mode=Mode.SUBTRACT)


with BuildPart() as f11f_1:
    add(f11f.part)

    # F13: cut by f13_tool
    add(f13_tool.part, mode=Mode.SUBTRACT)


with BuildPart() as f11g_1:
    add(f11g.part)

    # F13: cut by f13_tool
    add(f13_tool.part, mode=Mode.SUBTRACT)


with BuildPart() as f15:
    # F14 (on Top) → F15 (new body)
    with BuildSketch(Plane.XY):
        with Locations((-25.4860028408, 28.5561004021)):
            Circle(F14_R)
    extrude(amount=F15_DEPTH)


with BuildPart() as f15b:
    # F14 (on Top) → F15, piece 2 (new body)
    with BuildSketch(Plane.XY):
        with Locations((-15.4860028408, 28.5561004021)):
            Circle(F14_R_2)
    extrude(amount=F15_DEPTH)


with BuildPart() as f15c:
    # F14 (on Top) → F15, piece 3 (new body)
    with BuildSketch(Plane.XY):
        with Locations((-5.4860028408, 28.5561004021)):
            Circle(F14_R_3)
    extrude(amount=F15_DEPTH)


with BuildPart() as f15d:
    # F14 (on Top) → F15, piece 4 (new body)
    with BuildSketch(Plane.XY):
        with Locations((4.5139971592, 28.5561004021)):
            Circle(F14_R_4)
    extrude(amount=F15_DEPTH)


with BuildPart() as f15e:
    # F14 (on Top) → F15, piece 5 (new body)
    with BuildSketch(Plane.XY):
        with Locations((13.6536988027, 28.6366573236)):
            Circle(F14_R_5)
    extrude(amount=F15_DEPTH)


with BuildPart() as f15f:
    # F14 (on Top) → F15, piece 6 (new body)
    with BuildSketch(Plane.XY):
        with Locations((23.6536988027, 28.6366573236)):
            Circle(F14_R_6)
    extrude(amount=F15_DEPTH)


with BuildPart() as f17_tool:
    # F16 (on face) → F17 (new body)
    with BuildSketch(Plane.XY.offset(10)):
        with Locations((-5.4860028408, 28.5561004021)):
            Circle(F16_R)
        with Locations((4.5139971592, 28.5561004021)):
            Circle(F16_R_2)
        with Locations((13.6536988027, 28.6366573236)):
            Circle(F16_R_3)
        with Locations((23.6536988027, 28.6366573236)):
            Circle(F16_R_4)
        with Locations((-15.4860028408, 28.5561004021)):
            Circle(F16_R_5)
        with Locations((-25.4860028408, 28.5561004021)):
            Circle(F16_R_6)
    extrude(amount=-F17_DEPTH)


with BuildPart() as f15_1:
    add(f15.part)

    # F17: cut by f17_tool
    add(f17_tool.part, mode=Mode.SUBTRACT)


with BuildPart() as f15b_1:
    add(f15b.part)

    # F17: cut by f17_tool
    add(f17_tool.part, mode=Mode.SUBTRACT)


with BuildPart() as f15c_1:
    add(f15c.part)

    # F17: cut by f17_tool
    add(f17_tool.part, mode=Mode.SUBTRACT)


with BuildPart() as f15d_1:
    add(f15d.part)

    # F17: cut by f17_tool
    add(f17_tool.part, mode=Mode.SUBTRACT)


with BuildPart() as f15e_1:
    add(f15e.part)

    # F17: cut by f17_tool
    add(f17_tool.part, mode=Mode.SUBTRACT)


with BuildPart() as f15f_1:
    add(f15f.part)

    # F17: cut by f17_tool
    add(f17_tool.part, mode=Mode.SUBTRACT)


solid = Compound([f1.part, f1b.part, f1c.part, f1d.part, f1e.part, f1f.part, f1g.part, f1h.part, f3.part, f3b.part, f3c.part, f3d.part, f3e.part, f5.part, f5b.part, f5c.part, f5d.part, f5e.part, f7.part, f7b.part, f7c.part, f7d.part, f7e.part, f9.part, f9b.part, f9c.part, f9d.part, f9e.part, f9f.part, f9g.part, f9h.part, f9i.part, f11h.part, f11_1.part, f11b_1.part, f11c_1.part, f11d_1.part, f11e_1.part, f11f_1.part, f11g_1.part, f15_1.part, f15b_1.part, f15c_1.part, f15d_1.part, f15e_1.part, f15f_1.part])
